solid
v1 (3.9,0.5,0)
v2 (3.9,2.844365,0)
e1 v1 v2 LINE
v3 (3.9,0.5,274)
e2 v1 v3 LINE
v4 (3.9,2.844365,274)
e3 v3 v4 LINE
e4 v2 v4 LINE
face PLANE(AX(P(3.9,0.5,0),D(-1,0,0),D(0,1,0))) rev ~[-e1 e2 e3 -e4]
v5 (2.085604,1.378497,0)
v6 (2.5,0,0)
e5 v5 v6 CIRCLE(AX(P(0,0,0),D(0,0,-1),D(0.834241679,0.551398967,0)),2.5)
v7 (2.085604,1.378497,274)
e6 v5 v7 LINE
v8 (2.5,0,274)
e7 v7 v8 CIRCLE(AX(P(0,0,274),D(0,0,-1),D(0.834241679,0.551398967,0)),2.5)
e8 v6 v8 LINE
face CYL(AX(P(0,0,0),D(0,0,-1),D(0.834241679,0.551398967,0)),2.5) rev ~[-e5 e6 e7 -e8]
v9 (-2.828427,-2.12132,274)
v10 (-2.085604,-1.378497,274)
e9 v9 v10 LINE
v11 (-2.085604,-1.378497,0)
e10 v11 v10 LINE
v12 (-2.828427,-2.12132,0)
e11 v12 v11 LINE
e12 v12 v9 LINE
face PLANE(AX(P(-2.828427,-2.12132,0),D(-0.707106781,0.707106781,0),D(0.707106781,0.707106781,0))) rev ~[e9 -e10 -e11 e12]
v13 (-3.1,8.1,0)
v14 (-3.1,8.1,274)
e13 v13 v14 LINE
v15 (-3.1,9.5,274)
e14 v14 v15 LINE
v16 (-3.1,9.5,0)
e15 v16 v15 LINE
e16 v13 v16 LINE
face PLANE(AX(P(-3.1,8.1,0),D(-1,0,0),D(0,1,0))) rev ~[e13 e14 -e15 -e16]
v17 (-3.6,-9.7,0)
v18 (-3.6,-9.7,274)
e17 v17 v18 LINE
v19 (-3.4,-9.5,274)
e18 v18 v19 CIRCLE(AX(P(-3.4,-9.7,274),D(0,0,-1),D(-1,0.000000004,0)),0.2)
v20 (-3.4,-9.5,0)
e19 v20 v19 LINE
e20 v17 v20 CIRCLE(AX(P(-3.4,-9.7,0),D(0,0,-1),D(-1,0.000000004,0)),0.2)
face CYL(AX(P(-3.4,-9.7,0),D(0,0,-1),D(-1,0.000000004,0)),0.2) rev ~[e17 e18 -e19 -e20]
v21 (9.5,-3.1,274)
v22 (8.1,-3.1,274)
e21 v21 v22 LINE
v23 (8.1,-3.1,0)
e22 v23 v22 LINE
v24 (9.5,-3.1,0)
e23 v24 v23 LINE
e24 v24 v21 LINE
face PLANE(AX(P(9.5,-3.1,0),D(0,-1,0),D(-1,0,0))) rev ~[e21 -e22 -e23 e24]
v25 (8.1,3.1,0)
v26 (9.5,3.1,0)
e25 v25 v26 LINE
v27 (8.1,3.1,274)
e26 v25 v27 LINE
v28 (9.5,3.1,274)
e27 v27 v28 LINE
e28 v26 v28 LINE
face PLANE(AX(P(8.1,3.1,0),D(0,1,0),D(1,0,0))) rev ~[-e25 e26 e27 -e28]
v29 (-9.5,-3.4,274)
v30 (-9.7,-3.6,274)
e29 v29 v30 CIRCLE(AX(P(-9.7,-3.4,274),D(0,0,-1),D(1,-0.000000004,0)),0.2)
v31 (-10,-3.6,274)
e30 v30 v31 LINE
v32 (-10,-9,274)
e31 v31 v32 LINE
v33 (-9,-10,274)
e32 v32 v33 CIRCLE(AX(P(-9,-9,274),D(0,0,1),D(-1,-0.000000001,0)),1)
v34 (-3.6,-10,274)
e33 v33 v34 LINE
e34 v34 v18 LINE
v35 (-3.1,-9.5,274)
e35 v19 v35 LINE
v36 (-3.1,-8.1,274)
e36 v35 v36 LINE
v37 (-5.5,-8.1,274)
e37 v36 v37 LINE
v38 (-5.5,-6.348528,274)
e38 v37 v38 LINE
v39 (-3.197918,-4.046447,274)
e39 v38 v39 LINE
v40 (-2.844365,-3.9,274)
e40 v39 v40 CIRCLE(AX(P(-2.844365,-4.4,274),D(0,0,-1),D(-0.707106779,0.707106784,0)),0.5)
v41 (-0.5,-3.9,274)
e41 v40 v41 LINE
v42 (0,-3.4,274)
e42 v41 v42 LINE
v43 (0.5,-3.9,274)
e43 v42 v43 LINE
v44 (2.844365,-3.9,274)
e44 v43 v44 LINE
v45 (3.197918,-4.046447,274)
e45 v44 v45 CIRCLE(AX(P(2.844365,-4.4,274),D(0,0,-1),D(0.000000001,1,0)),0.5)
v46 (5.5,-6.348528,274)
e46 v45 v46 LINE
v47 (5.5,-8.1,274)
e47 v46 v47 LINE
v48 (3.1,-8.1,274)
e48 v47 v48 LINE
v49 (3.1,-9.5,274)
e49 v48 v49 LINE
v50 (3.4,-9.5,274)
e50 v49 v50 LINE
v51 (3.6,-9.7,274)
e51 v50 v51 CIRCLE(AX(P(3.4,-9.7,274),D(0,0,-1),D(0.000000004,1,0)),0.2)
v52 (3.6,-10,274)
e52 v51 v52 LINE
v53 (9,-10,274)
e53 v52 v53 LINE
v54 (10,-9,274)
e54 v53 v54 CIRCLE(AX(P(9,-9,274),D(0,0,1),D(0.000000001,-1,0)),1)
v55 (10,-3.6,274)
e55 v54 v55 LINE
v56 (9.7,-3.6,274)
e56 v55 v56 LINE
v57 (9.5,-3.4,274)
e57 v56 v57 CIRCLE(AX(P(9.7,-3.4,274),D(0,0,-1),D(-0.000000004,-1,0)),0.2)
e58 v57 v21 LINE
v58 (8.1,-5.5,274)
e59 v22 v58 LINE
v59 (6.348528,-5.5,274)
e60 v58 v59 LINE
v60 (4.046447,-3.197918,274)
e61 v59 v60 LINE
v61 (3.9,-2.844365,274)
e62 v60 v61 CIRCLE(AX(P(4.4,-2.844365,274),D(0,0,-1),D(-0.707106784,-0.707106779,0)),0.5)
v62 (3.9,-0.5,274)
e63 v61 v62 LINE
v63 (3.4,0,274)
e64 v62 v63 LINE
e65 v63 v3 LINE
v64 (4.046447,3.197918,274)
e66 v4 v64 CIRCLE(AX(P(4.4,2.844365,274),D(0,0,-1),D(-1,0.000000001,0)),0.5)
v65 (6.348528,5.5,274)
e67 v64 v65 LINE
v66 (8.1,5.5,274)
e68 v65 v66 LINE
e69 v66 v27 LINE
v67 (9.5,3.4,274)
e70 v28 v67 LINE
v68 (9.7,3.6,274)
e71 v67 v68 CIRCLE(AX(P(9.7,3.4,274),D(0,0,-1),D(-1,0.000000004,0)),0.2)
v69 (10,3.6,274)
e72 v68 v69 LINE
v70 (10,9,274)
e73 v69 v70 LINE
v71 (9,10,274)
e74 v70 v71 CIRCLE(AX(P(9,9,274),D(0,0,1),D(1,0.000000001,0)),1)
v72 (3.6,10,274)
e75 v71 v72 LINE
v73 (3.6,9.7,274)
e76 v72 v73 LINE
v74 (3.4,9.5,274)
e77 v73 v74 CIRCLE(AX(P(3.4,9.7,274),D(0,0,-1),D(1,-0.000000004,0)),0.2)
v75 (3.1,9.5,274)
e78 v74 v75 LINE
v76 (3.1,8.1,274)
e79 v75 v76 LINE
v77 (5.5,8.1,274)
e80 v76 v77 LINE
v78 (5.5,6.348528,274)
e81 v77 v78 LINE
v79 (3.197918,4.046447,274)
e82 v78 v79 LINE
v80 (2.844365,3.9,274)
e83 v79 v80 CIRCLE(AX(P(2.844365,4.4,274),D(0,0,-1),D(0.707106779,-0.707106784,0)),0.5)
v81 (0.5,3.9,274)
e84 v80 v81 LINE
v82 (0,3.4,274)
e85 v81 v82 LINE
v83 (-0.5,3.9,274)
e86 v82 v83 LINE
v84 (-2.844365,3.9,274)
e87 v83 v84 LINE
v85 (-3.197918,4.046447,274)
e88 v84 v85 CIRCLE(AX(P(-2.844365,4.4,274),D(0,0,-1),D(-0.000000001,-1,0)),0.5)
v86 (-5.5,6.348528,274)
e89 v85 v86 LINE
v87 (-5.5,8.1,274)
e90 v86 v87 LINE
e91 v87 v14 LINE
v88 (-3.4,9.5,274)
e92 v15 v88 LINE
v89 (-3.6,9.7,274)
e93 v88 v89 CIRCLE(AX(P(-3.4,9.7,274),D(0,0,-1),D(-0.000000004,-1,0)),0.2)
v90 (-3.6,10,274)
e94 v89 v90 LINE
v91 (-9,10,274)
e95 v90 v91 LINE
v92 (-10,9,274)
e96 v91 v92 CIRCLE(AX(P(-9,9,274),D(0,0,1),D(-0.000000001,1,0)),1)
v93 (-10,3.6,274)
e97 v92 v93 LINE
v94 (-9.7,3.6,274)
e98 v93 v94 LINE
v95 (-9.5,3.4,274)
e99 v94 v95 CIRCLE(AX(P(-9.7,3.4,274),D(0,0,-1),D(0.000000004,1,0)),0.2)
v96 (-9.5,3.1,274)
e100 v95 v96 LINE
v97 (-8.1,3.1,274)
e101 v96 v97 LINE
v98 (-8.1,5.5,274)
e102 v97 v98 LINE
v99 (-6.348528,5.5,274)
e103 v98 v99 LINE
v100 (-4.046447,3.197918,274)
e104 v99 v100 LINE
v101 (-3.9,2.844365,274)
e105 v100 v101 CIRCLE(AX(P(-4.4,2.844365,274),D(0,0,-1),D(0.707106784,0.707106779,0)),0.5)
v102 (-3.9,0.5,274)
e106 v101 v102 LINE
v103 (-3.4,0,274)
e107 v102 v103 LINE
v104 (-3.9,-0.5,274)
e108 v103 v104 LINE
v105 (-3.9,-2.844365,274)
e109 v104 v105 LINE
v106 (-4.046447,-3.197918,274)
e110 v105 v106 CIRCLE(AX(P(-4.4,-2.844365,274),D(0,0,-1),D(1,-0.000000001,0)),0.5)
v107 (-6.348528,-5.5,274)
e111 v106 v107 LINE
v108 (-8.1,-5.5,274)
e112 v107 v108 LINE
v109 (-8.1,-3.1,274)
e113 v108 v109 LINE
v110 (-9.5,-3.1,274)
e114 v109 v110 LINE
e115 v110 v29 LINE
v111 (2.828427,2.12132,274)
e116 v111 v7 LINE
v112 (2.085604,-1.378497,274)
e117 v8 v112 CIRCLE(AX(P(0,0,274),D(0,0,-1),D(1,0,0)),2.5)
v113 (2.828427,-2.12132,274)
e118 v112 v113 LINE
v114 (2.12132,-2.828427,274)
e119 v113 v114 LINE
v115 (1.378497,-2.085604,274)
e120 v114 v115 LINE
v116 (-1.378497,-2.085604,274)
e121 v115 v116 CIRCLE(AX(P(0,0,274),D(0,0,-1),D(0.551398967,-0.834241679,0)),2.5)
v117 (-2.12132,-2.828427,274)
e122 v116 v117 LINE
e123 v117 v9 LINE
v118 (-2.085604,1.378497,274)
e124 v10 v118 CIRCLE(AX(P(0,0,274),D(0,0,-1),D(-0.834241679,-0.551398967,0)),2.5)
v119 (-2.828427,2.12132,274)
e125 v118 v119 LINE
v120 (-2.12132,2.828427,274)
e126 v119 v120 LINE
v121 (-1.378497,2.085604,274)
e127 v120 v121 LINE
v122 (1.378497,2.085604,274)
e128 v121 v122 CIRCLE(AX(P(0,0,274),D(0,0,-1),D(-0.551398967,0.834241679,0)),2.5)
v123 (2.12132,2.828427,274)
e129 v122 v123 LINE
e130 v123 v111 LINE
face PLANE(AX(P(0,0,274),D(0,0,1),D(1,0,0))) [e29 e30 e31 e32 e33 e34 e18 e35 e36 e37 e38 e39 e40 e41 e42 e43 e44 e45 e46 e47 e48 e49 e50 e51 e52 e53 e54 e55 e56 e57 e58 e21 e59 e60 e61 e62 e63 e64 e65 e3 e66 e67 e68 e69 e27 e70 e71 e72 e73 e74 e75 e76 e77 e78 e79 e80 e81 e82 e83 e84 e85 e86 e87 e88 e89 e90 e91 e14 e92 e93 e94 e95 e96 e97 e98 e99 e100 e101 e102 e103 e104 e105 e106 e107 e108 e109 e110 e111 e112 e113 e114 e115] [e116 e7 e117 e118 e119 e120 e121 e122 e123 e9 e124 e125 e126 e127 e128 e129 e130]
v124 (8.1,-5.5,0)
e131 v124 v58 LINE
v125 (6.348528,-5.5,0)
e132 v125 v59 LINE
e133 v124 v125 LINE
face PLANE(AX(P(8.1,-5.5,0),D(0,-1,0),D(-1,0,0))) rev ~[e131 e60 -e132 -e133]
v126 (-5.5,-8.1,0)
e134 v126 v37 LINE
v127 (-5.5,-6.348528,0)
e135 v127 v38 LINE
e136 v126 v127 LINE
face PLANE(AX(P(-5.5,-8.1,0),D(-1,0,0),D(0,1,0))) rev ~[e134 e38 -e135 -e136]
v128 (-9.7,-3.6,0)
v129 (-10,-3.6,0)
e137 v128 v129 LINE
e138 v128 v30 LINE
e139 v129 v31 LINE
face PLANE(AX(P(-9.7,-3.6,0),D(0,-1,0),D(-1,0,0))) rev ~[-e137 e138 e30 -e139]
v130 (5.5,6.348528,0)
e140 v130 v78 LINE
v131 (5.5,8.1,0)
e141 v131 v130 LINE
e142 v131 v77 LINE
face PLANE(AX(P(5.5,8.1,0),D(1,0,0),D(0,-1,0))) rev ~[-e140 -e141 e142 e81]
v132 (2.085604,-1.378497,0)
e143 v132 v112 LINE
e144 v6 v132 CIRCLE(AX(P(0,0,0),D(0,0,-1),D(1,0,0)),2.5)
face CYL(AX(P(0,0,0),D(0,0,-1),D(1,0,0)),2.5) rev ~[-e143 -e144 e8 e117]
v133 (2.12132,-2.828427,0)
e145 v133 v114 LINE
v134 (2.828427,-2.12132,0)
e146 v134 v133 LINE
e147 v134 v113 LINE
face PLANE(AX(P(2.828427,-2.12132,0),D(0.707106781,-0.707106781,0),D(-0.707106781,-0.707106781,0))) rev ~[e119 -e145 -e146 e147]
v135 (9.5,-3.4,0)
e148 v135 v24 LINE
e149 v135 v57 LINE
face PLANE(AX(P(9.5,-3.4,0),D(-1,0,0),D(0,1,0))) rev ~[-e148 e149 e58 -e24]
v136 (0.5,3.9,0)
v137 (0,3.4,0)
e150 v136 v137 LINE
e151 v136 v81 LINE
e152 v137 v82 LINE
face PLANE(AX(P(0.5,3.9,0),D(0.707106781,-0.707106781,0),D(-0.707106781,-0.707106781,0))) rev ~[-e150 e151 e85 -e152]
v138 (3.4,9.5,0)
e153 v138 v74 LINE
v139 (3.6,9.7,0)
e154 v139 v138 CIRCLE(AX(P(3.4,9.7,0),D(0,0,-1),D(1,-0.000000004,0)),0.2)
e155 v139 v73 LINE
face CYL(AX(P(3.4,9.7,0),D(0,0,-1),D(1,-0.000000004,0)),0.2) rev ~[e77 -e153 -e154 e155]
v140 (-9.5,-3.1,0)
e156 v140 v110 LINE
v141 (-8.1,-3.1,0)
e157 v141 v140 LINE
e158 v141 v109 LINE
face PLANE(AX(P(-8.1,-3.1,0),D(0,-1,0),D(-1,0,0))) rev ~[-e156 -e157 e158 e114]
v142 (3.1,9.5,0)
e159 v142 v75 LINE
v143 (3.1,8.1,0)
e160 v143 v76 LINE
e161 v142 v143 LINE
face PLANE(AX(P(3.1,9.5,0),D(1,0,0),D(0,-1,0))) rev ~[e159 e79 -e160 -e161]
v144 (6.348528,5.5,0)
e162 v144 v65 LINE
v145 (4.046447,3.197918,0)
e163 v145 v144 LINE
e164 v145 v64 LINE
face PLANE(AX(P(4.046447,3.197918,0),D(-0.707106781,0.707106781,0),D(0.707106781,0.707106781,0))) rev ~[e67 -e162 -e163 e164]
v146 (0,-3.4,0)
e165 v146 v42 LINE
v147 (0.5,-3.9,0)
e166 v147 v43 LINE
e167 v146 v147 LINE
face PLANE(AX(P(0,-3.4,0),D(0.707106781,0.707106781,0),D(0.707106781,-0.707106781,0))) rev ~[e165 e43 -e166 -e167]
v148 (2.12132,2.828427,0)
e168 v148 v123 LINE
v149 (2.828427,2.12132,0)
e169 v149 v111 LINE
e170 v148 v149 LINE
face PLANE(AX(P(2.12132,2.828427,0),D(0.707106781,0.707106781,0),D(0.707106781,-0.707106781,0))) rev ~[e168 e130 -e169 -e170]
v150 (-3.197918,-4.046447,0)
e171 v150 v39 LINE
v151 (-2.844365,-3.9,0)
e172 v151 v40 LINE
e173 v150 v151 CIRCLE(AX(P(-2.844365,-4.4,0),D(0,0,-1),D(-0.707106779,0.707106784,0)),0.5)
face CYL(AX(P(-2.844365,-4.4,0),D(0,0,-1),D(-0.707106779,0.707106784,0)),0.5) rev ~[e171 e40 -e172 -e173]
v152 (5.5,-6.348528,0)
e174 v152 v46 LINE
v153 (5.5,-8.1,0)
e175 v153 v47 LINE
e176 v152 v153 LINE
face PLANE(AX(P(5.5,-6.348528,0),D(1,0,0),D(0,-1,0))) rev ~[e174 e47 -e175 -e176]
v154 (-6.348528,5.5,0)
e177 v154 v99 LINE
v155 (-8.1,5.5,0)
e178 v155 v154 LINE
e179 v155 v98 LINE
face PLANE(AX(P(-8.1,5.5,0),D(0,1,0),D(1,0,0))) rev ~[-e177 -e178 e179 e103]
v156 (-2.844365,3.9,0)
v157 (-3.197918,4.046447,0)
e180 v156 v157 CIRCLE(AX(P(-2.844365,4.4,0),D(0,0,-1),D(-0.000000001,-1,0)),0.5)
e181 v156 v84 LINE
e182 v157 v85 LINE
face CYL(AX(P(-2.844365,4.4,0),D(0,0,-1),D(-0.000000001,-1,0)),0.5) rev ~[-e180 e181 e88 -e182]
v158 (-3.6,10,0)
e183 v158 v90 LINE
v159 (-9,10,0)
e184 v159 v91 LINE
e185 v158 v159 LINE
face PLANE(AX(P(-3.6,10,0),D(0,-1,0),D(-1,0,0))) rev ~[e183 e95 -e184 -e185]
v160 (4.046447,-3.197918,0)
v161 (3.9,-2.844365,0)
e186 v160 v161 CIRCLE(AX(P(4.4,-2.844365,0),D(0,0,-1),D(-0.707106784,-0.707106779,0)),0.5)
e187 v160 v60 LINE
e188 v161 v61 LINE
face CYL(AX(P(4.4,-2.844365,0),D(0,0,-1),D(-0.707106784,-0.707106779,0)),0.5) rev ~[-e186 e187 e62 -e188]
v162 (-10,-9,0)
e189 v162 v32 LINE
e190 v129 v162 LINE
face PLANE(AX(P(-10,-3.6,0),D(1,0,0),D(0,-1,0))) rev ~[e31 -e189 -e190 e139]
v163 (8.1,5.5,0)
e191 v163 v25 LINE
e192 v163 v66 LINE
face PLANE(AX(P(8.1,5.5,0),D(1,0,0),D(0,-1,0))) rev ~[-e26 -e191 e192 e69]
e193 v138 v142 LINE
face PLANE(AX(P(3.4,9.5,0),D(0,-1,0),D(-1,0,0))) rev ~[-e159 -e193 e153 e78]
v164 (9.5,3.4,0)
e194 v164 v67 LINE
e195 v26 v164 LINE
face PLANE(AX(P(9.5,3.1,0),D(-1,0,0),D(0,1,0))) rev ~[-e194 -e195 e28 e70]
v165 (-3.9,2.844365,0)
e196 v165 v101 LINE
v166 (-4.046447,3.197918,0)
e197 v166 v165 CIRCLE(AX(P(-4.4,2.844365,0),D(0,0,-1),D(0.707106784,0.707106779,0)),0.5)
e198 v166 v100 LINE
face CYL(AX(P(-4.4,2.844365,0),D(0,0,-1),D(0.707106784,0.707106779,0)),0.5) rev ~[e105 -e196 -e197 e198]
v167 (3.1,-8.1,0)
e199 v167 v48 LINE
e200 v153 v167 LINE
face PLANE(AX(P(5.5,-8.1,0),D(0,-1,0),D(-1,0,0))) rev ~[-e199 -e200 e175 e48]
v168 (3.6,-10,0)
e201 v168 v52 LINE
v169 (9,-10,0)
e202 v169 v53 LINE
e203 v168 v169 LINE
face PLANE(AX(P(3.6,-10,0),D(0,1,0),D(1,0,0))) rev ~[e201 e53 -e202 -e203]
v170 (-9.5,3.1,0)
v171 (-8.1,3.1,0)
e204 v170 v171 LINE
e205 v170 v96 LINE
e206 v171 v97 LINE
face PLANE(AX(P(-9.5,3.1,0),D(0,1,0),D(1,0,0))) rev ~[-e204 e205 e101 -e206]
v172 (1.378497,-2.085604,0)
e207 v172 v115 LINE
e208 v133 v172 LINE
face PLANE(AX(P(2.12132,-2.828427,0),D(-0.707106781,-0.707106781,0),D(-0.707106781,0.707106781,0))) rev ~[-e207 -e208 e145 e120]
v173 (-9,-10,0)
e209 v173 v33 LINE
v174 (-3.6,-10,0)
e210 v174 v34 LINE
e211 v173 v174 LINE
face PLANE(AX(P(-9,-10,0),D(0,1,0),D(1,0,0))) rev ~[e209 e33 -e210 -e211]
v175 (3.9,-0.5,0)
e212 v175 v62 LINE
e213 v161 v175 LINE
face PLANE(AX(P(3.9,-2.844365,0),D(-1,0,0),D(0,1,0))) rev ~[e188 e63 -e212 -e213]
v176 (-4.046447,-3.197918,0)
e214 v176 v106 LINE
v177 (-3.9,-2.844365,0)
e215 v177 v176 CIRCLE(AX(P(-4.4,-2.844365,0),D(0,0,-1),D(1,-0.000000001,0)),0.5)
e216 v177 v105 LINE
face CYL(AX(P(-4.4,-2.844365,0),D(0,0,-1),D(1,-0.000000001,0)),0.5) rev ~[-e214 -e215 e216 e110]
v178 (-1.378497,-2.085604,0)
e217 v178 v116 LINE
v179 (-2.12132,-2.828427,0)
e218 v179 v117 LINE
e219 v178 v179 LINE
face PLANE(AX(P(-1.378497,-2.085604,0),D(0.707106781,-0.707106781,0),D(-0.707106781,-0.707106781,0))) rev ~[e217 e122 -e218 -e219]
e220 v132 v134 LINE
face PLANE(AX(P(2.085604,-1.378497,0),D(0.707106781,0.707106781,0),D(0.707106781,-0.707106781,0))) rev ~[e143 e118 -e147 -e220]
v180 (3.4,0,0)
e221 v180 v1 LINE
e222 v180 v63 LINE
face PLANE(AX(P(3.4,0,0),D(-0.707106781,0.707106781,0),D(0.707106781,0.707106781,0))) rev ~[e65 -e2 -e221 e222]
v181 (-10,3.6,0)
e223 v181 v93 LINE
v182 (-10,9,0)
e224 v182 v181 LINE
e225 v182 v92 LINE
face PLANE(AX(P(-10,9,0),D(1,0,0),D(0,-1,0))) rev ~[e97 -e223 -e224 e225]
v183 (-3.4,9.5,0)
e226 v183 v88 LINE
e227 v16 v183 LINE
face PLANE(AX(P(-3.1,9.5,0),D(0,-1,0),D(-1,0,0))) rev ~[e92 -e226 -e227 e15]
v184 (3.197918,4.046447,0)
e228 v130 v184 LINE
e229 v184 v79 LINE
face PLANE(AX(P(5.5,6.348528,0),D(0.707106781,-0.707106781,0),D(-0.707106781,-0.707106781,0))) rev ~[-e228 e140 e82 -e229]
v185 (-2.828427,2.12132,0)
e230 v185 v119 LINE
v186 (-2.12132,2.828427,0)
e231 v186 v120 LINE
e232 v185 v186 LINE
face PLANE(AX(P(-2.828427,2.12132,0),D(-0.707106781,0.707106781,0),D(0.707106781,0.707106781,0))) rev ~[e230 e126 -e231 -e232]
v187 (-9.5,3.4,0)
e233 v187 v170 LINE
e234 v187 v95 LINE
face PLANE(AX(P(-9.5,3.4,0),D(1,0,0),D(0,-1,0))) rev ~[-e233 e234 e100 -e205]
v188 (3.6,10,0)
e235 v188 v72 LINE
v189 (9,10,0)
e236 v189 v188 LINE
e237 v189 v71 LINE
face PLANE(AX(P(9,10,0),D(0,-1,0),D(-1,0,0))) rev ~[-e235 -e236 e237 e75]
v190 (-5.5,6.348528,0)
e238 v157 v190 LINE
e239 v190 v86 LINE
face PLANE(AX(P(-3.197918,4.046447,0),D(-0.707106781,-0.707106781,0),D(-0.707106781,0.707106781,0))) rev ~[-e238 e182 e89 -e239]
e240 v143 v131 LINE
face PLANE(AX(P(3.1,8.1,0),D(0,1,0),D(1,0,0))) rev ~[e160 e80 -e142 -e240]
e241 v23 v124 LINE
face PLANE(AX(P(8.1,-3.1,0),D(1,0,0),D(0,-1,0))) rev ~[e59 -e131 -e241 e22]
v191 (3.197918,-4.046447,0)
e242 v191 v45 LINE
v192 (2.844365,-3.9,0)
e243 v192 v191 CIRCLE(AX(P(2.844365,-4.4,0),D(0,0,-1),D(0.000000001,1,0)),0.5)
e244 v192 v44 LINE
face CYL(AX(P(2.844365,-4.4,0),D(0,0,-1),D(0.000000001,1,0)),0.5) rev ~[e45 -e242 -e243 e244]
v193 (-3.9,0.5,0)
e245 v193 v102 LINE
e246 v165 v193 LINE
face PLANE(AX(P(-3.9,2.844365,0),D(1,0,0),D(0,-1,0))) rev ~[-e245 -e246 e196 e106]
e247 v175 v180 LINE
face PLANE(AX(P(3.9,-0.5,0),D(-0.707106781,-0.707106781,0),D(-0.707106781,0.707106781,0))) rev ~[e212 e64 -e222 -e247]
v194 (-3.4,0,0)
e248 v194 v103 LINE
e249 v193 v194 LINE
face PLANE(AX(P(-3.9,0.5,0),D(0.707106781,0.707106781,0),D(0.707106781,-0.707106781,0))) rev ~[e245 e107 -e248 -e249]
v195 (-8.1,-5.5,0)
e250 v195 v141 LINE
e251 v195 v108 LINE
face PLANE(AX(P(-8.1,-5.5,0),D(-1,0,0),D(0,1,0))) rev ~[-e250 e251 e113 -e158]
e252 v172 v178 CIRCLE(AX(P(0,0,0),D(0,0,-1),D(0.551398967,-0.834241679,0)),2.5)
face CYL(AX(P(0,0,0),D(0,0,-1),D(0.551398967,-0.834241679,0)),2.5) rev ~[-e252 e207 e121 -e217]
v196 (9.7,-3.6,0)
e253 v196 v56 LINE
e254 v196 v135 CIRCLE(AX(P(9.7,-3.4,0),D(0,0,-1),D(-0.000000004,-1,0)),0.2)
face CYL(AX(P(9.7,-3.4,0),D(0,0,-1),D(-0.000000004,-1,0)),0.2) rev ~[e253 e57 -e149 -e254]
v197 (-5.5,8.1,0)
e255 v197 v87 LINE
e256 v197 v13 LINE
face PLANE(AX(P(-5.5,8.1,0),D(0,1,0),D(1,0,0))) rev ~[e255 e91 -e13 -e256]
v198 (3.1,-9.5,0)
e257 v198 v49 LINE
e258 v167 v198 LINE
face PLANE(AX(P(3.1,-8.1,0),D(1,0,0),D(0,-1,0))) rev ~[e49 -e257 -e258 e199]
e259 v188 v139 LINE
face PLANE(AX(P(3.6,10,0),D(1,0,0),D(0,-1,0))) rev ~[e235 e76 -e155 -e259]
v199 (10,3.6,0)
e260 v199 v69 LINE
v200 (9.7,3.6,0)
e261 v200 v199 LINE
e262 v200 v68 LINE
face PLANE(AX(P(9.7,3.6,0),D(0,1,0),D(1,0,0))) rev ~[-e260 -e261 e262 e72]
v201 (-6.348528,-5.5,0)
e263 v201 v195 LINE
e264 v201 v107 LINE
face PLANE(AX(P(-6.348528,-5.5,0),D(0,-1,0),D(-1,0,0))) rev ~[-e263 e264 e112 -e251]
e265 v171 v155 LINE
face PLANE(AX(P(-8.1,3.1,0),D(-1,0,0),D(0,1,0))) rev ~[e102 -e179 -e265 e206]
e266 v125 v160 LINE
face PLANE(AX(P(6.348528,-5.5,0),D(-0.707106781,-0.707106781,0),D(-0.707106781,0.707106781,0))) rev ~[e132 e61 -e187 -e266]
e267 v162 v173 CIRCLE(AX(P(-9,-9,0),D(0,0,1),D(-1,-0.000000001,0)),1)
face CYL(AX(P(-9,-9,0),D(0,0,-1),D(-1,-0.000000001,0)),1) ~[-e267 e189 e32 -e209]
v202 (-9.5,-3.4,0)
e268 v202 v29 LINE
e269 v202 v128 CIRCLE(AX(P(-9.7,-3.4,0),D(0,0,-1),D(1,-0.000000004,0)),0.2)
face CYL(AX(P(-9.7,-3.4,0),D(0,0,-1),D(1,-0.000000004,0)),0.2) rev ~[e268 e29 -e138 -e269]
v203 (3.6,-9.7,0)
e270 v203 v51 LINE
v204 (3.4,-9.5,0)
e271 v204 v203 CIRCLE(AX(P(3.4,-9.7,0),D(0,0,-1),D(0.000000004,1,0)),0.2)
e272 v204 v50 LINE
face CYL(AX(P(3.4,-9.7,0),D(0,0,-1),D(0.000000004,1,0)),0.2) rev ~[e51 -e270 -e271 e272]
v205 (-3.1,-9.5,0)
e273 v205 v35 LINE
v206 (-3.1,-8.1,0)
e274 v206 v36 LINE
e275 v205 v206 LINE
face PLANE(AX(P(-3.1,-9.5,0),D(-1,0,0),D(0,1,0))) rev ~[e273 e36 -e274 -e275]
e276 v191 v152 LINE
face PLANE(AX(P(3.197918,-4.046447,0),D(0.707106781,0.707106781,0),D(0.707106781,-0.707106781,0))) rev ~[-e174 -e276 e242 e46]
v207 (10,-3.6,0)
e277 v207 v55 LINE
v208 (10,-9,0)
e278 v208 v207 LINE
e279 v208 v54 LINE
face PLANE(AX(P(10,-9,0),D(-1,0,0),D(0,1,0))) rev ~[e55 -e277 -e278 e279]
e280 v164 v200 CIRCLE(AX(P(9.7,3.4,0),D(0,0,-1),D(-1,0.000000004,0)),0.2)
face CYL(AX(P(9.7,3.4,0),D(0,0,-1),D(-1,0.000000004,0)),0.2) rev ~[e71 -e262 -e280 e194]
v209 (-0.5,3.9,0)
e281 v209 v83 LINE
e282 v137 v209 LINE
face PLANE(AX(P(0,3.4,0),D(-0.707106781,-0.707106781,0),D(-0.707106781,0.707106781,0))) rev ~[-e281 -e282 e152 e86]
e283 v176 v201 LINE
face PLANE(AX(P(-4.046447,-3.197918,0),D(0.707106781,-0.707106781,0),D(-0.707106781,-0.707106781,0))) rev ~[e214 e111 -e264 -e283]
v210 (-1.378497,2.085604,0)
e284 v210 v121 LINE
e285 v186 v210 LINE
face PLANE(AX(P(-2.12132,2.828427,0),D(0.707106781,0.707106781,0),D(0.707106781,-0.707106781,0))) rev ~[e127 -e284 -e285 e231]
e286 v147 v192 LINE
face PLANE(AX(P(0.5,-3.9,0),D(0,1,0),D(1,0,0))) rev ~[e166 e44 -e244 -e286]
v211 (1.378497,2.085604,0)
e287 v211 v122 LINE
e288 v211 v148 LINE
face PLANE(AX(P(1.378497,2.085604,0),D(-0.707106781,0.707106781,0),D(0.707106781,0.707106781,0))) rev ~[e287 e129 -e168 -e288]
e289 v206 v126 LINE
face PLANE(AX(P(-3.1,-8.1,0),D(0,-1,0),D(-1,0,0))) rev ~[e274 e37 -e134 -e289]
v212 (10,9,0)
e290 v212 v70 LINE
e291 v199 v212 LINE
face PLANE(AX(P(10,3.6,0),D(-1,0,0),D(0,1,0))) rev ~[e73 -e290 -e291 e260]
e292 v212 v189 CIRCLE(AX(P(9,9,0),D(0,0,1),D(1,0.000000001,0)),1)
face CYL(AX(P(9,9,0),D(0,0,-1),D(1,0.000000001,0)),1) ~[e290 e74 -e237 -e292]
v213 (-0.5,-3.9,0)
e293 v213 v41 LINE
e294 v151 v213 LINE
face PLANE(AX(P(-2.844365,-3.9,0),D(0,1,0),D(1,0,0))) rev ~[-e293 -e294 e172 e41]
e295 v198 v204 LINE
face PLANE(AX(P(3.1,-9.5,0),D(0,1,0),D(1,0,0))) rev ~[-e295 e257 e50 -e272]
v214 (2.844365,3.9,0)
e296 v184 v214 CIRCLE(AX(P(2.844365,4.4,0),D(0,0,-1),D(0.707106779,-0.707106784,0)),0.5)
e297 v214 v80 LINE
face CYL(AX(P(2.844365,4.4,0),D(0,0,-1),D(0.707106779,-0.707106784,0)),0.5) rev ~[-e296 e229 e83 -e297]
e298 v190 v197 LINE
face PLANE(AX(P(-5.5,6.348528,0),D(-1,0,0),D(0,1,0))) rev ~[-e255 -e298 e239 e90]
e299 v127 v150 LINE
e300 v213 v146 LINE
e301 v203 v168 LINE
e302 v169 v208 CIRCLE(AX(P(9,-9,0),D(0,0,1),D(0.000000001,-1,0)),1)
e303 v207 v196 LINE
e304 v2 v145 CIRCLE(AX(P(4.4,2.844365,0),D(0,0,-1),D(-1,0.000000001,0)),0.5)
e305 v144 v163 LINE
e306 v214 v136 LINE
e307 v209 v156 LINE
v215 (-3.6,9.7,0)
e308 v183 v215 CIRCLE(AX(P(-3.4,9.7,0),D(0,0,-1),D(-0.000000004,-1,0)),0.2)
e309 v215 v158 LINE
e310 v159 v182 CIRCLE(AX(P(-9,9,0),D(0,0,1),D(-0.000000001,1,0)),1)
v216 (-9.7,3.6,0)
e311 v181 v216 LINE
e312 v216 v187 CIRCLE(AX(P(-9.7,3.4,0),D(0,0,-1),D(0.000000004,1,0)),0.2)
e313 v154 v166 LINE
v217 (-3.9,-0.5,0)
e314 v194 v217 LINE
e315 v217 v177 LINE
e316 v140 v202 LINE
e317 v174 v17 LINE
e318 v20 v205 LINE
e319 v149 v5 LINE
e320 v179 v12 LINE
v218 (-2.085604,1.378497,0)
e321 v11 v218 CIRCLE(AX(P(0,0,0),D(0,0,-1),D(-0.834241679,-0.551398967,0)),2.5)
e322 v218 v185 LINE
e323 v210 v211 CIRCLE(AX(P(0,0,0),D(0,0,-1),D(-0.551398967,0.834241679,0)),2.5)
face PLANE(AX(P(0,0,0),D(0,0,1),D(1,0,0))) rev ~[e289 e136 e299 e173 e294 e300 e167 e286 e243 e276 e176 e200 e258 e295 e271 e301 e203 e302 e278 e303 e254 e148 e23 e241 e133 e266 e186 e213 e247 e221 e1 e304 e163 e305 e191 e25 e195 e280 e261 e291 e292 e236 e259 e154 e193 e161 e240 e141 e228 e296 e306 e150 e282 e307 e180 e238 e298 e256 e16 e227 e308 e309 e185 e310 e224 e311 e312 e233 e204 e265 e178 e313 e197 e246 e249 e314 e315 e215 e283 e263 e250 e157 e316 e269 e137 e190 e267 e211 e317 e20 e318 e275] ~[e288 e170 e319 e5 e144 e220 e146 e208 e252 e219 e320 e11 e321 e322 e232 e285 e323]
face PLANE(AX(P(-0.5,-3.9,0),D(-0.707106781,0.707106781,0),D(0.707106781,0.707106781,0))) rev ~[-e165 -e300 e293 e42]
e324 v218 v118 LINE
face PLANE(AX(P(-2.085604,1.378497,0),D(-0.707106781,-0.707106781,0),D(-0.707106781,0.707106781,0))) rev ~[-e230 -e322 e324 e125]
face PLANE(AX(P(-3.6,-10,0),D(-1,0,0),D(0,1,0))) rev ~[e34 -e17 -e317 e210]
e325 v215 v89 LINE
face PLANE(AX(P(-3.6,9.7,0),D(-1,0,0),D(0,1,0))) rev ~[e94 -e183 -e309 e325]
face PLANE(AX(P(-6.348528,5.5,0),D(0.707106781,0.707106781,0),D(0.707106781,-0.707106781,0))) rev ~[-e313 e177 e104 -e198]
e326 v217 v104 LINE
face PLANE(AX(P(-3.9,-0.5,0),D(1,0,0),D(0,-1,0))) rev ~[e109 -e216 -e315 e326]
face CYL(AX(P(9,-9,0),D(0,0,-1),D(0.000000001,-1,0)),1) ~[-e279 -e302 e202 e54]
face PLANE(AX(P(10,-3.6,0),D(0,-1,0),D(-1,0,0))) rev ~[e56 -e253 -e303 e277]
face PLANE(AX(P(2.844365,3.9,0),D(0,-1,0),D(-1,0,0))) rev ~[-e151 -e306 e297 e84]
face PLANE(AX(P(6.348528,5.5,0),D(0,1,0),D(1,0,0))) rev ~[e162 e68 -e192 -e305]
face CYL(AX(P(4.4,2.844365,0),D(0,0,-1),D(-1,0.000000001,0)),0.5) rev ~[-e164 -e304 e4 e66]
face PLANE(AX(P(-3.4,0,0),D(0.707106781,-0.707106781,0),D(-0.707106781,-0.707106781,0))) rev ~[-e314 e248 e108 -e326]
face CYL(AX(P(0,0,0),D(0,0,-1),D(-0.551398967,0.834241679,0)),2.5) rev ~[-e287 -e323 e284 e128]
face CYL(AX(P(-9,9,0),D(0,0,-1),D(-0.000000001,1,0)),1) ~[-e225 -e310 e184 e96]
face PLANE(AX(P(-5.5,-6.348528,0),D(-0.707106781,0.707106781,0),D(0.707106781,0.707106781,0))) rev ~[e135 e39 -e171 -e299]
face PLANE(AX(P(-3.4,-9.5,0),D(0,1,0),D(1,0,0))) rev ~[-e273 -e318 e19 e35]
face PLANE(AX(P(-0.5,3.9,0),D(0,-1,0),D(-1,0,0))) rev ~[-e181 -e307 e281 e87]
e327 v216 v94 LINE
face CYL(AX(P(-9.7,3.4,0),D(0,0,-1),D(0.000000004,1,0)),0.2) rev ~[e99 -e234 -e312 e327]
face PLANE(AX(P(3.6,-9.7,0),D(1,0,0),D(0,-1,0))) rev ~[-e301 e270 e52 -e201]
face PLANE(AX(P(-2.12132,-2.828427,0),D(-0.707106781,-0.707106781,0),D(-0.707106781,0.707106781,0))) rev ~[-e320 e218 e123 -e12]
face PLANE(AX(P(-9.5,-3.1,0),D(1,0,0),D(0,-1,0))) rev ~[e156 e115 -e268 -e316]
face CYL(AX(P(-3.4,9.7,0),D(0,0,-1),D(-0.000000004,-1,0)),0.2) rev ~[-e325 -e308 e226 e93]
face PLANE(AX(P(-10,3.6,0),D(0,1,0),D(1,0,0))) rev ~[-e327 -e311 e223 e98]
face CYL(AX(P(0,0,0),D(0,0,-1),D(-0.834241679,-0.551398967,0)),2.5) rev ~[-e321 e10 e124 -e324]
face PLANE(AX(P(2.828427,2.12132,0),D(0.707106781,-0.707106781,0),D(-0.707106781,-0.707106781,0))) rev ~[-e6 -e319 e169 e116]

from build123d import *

# Parameters (mm, degrees)
EXTRUDE1_DEPTH = 274


with BuildPart() as part:
    # Sketch1 → Extrude1 (new body)
    with BuildSketch(Plane.XY):
        with BuildLine():
            Line((0, 3.4), (-0.5, 3.9))
            Line((-0.5, 3.9), (-2.844365081, 3.9))
            ThreePointArc((-2.844365081, 3.9), (-3.035706798, 3.938060234), (-3.197918472, 4.046446609))
            Line((-3.197918472, 4.046446609), (-5.5, 6.348528137))
            Line((-5.5, 6.348528137), (-5.5, 8.1))
            Line((-5.5, 8.1), (-3.1, 8.1))
            Line((-3.1, 8.1), (-3.1, 9.5))
            Line((-3.1, 9.5), (-3.4, 9.5))
            ThreePointArc((-3.4, 9.5), (-3.541421356, 9.558578644), (-3.6, 9.7))
            Line((-3.6, 9.7), (-3.6, 10))
            Line((-3.6, 10), (-9, 10))
            ThreePointArc((-9, 10), (-9.707106781, 9.707106781), (-10, 9))
            Line((-10, 9), (-10, 3.6))
            Line((-10, 3.6), (-9.7, 3.6))
            ThreePointArc((-9.7, 3.6), (-9.558578644, 3.541421356), (-9.5, 3.4))
            Line((-9.5, 3.4), (-9.5, 3.1))
            Line((-9.5, 3.1), (-8.1, 3.1))
            Line((-8.1, 3.1), (-8.1, 5.5))
            Line((-8.1, 5.5), (-6.348528137, 5.5))
            Line((-6.348528137, 5.5), (-4.046446609, 3.197918472))
            ThreePointArc((-4.046446609, 3.197918472), (-3.938060234, 3.035706798), (-3.9, 2.844365081))
            Line((-3.9, 2.844365081), (-3.9, 0.5))
            Line((-3.9, 0.5), (-3.4, 0))
            Line((-3.4, 0), (-3.9, -0.5))
            Line((-3.9, -0.5), (-3.9, -2.844365081))
            ThreePointArc((-3.9, -2.844365081), (-3.938060234, -3.035706798), (-4.046446609, -3.197918472))
            Line((-4.046446609, -3.197918472), (-6.348528137, -5.5))
            Line((-6.348528137, -5.5), (-8.1, -5.5))
            Line((-8.1, -5.5), (-8.1, -3.1))
            Line((-8.1, -3.1), (-9.5, -3.1))
            Line((-9.5, -3.1), (-9.5, -3.4))
            ThreePointArc((-9.5, -3.4), (-9.558578644, -3.541421356), (-9.7, -3.6))
            Line((-9.7, -3.6), (-10, -3.6))
            Line((-10, -3.6), (-10, -9))
            ThreePointArc((-10, -9), (-9.707106781, -9.707106781), (-9, -10))
            Line((-9, -10), (-3.6, -10))
            Line((-3.6, -10), (-3.6, -9.7))
            ThreePointArc((-3.6, -9.7), (-3.541421356, -9.558578644), (-3.4, -9.5))
            Line((-3.4, -9.5), (-3.1, -9.5))
            Line((-3.1, -9.5), (-3.1, -8.1))
            Line((-3.1, -8.1), (-5.5, -8.1))
            Line((-5.5, -8.1), (-5.5, -6.348528137))
            Line((-5.5, -6.348528137), (-3.197918472, -4.046446609))
            ThreePointArc((-3.197918472, -4.046446609), (-3.035706798, -3.938060234), (-2.844365081, -3.9))
            Line((-2.844365081, -3.9), (-0.5, -3.9))
            Line((-0.5, -3.9), (0, -3.4))
            Line((0, -3.4), (0.5, -3.9))
            Line((0.5, -3.9), (2.844365081, -3.9))
            ThreePointArc((2.844365081, -3.9), (3.035706798, -3.938060234), (3.197918472, -4.046446609))
            Line((3.197918472, -4.046446609), (5.5, -6.348528137))
            Line((5.5, -6.348528137), (5.5, -8.1))
            Line((5.5, -8.1), (3.1, -8.1))
            Line((3.1, -8.1), (3.1, -9.5))
            Line((3.1, -9.5), (3.4, -9.5))
            ThreePointArc((3.4, -9.5), (3.541421356, -9.558578644), (3.6, -9.7))
            Line((3.6, -9.7), (3.6, -10))
            Line((3.6, -10), (9, -10))
            ThreePointArc((9, -10), (9.707106781, -9.707106781), (10, -9))
            Line((10, -9), (10, -3.6))
            Line((10, -3.6), (9.7, -3.6))
            ThreePointArc((9.7, -3.6), (9.558578644, -3.541421356), (9.5, -3.4))
            Line((9.5, -3.4), (9.5, -3.1))
            Line((9.5, -3.1), (8.1, -3.1))
            Line((8.1, -3.1), (8.1, -5.5))
            Line((8.1, -5.5), (6.348528137, -5.5))
            Line((6.348528137, -5.5), (4.046446609, -3.197918472))
            ThreePointArc((4.046446609, -3.197918472), (3.938060234, -3.035706798), (3.9, -2.844365081))
            Line((3.9, -2.844365081), (3.9, -0.5))
            Line((3.9, -0.5), (3.4, 0))
            Line((3.4, 0), (3.9, 0.5))
            Line((3.9, 0.5), (3.9, 2.844365081))
            ThreePointArc((3.9, 2.844365081), (3.938060234, 3.035706798), (4.046446609, 3.197918472))
            Line((4.046446609, 3.197918472), (6.348528137, 5.5))
            Line((6.348528137, 5.5), (8.1, 5.5))
            Line((8.1, 5.5), (8.1, 3.1))
            Line((8.1, 3.1), (9.5, 3.1))
            Line((9.5, 3.1), (9.5, 3.4))
            ThreePointArc((9.5, 3.4), (9.558578644, 3.541421356), (9.7, 3.6))
            Line((9.7, 3.6), (10, 3.6))
            Line((10, 3.6), (10, 9))
            ThreePointArc((10, 9), (9.707106781, 9.707106781), (9, 10))
            Line((9, 10), (3.6, 10))
            Line((3.6, 10), (3.6, 9.7))
            ThreePointArc((3.6, 9.7), (3.541421356, 9.558578644), (3.4, 9.5))
            Line((3.4, 9.5), (3.1, 9.5))
            Line((3.1, 9.5), (3.1, 8.1))
            Line((3.1, 8.1), (5.5, 8.1))
            Line((5.5, 8.1), (5.5, 6.348528137))
            Line((5.5, 6.348528137), (3.197918472, 4.046446609))
            ThreePointArc((3.197918472, 4.046446609), (3.035706798, 3.938060234), (2.844365081, 3.9))
            Line((2.844365081, 3.9), (0.5, 3.9))
            Line((0.5, 3.9), (0, 3.4))
        make_face()
        with BuildLine():
            ThreePointArc((2.5, 0), (2.394160656, -0.719718523), (2.085604198, -1.378497417))
            Line((2.085604198, -1.378497417), (2.828427125, -2.121320344))
            Line((2.828427125, -2.121320344), (2.121320344, -2.828427125))
            Line((2.121320344, -2.828427125), (1.378497417, -2.085604198))
            ThreePointArc((1.378497417, -2.085604198), (0, -2.5), (-1.378497417, -2.085604198))
            Line((-1.378497417, -2.085604198), (-2.121320344, -2.828427125))
            Line((-2.121320344, -2.828427125), (-2.828427125, -2.121320344))
            Line((-2.828427125, -2.121320344), (-2.085604198, -1.378497417))
            ThreePointArc((-2.085604198, -1.378497417), (-2.5, 0), (-2.085604198, 1.378497417))
            Line((-2.085604198, 1.378497417), (-2.828427125, 2.121320344))
            Line((-2.828427125, 2.121320344), (-2.121320344, 2.828427125))
            Line((-2.121320344, 2.828427125), (-1.378497417, 2.085604198))
            ThreePointArc((-1.378497417, 2.085604198), (0, 2.5), (1.378497417, 2.085604198))
            Line((1.378497417, 2.085604198), (2.121320344, 2.828427125))
            Line((2.121320344, 2.828427125), (2.828427125, 2.121320344))
            Line((2.828427125, 2.121320344), (2.085604198, 1.378497417))
            ThreePointArc((2.085604198, 1.378497417), (2.394160656, 0.719718523), (2.5, 0))
        make_face(mode=Mode.SUBTRACT)
    extrude(amount=EXTRUDE1_DEPTH)


solid = part.part
